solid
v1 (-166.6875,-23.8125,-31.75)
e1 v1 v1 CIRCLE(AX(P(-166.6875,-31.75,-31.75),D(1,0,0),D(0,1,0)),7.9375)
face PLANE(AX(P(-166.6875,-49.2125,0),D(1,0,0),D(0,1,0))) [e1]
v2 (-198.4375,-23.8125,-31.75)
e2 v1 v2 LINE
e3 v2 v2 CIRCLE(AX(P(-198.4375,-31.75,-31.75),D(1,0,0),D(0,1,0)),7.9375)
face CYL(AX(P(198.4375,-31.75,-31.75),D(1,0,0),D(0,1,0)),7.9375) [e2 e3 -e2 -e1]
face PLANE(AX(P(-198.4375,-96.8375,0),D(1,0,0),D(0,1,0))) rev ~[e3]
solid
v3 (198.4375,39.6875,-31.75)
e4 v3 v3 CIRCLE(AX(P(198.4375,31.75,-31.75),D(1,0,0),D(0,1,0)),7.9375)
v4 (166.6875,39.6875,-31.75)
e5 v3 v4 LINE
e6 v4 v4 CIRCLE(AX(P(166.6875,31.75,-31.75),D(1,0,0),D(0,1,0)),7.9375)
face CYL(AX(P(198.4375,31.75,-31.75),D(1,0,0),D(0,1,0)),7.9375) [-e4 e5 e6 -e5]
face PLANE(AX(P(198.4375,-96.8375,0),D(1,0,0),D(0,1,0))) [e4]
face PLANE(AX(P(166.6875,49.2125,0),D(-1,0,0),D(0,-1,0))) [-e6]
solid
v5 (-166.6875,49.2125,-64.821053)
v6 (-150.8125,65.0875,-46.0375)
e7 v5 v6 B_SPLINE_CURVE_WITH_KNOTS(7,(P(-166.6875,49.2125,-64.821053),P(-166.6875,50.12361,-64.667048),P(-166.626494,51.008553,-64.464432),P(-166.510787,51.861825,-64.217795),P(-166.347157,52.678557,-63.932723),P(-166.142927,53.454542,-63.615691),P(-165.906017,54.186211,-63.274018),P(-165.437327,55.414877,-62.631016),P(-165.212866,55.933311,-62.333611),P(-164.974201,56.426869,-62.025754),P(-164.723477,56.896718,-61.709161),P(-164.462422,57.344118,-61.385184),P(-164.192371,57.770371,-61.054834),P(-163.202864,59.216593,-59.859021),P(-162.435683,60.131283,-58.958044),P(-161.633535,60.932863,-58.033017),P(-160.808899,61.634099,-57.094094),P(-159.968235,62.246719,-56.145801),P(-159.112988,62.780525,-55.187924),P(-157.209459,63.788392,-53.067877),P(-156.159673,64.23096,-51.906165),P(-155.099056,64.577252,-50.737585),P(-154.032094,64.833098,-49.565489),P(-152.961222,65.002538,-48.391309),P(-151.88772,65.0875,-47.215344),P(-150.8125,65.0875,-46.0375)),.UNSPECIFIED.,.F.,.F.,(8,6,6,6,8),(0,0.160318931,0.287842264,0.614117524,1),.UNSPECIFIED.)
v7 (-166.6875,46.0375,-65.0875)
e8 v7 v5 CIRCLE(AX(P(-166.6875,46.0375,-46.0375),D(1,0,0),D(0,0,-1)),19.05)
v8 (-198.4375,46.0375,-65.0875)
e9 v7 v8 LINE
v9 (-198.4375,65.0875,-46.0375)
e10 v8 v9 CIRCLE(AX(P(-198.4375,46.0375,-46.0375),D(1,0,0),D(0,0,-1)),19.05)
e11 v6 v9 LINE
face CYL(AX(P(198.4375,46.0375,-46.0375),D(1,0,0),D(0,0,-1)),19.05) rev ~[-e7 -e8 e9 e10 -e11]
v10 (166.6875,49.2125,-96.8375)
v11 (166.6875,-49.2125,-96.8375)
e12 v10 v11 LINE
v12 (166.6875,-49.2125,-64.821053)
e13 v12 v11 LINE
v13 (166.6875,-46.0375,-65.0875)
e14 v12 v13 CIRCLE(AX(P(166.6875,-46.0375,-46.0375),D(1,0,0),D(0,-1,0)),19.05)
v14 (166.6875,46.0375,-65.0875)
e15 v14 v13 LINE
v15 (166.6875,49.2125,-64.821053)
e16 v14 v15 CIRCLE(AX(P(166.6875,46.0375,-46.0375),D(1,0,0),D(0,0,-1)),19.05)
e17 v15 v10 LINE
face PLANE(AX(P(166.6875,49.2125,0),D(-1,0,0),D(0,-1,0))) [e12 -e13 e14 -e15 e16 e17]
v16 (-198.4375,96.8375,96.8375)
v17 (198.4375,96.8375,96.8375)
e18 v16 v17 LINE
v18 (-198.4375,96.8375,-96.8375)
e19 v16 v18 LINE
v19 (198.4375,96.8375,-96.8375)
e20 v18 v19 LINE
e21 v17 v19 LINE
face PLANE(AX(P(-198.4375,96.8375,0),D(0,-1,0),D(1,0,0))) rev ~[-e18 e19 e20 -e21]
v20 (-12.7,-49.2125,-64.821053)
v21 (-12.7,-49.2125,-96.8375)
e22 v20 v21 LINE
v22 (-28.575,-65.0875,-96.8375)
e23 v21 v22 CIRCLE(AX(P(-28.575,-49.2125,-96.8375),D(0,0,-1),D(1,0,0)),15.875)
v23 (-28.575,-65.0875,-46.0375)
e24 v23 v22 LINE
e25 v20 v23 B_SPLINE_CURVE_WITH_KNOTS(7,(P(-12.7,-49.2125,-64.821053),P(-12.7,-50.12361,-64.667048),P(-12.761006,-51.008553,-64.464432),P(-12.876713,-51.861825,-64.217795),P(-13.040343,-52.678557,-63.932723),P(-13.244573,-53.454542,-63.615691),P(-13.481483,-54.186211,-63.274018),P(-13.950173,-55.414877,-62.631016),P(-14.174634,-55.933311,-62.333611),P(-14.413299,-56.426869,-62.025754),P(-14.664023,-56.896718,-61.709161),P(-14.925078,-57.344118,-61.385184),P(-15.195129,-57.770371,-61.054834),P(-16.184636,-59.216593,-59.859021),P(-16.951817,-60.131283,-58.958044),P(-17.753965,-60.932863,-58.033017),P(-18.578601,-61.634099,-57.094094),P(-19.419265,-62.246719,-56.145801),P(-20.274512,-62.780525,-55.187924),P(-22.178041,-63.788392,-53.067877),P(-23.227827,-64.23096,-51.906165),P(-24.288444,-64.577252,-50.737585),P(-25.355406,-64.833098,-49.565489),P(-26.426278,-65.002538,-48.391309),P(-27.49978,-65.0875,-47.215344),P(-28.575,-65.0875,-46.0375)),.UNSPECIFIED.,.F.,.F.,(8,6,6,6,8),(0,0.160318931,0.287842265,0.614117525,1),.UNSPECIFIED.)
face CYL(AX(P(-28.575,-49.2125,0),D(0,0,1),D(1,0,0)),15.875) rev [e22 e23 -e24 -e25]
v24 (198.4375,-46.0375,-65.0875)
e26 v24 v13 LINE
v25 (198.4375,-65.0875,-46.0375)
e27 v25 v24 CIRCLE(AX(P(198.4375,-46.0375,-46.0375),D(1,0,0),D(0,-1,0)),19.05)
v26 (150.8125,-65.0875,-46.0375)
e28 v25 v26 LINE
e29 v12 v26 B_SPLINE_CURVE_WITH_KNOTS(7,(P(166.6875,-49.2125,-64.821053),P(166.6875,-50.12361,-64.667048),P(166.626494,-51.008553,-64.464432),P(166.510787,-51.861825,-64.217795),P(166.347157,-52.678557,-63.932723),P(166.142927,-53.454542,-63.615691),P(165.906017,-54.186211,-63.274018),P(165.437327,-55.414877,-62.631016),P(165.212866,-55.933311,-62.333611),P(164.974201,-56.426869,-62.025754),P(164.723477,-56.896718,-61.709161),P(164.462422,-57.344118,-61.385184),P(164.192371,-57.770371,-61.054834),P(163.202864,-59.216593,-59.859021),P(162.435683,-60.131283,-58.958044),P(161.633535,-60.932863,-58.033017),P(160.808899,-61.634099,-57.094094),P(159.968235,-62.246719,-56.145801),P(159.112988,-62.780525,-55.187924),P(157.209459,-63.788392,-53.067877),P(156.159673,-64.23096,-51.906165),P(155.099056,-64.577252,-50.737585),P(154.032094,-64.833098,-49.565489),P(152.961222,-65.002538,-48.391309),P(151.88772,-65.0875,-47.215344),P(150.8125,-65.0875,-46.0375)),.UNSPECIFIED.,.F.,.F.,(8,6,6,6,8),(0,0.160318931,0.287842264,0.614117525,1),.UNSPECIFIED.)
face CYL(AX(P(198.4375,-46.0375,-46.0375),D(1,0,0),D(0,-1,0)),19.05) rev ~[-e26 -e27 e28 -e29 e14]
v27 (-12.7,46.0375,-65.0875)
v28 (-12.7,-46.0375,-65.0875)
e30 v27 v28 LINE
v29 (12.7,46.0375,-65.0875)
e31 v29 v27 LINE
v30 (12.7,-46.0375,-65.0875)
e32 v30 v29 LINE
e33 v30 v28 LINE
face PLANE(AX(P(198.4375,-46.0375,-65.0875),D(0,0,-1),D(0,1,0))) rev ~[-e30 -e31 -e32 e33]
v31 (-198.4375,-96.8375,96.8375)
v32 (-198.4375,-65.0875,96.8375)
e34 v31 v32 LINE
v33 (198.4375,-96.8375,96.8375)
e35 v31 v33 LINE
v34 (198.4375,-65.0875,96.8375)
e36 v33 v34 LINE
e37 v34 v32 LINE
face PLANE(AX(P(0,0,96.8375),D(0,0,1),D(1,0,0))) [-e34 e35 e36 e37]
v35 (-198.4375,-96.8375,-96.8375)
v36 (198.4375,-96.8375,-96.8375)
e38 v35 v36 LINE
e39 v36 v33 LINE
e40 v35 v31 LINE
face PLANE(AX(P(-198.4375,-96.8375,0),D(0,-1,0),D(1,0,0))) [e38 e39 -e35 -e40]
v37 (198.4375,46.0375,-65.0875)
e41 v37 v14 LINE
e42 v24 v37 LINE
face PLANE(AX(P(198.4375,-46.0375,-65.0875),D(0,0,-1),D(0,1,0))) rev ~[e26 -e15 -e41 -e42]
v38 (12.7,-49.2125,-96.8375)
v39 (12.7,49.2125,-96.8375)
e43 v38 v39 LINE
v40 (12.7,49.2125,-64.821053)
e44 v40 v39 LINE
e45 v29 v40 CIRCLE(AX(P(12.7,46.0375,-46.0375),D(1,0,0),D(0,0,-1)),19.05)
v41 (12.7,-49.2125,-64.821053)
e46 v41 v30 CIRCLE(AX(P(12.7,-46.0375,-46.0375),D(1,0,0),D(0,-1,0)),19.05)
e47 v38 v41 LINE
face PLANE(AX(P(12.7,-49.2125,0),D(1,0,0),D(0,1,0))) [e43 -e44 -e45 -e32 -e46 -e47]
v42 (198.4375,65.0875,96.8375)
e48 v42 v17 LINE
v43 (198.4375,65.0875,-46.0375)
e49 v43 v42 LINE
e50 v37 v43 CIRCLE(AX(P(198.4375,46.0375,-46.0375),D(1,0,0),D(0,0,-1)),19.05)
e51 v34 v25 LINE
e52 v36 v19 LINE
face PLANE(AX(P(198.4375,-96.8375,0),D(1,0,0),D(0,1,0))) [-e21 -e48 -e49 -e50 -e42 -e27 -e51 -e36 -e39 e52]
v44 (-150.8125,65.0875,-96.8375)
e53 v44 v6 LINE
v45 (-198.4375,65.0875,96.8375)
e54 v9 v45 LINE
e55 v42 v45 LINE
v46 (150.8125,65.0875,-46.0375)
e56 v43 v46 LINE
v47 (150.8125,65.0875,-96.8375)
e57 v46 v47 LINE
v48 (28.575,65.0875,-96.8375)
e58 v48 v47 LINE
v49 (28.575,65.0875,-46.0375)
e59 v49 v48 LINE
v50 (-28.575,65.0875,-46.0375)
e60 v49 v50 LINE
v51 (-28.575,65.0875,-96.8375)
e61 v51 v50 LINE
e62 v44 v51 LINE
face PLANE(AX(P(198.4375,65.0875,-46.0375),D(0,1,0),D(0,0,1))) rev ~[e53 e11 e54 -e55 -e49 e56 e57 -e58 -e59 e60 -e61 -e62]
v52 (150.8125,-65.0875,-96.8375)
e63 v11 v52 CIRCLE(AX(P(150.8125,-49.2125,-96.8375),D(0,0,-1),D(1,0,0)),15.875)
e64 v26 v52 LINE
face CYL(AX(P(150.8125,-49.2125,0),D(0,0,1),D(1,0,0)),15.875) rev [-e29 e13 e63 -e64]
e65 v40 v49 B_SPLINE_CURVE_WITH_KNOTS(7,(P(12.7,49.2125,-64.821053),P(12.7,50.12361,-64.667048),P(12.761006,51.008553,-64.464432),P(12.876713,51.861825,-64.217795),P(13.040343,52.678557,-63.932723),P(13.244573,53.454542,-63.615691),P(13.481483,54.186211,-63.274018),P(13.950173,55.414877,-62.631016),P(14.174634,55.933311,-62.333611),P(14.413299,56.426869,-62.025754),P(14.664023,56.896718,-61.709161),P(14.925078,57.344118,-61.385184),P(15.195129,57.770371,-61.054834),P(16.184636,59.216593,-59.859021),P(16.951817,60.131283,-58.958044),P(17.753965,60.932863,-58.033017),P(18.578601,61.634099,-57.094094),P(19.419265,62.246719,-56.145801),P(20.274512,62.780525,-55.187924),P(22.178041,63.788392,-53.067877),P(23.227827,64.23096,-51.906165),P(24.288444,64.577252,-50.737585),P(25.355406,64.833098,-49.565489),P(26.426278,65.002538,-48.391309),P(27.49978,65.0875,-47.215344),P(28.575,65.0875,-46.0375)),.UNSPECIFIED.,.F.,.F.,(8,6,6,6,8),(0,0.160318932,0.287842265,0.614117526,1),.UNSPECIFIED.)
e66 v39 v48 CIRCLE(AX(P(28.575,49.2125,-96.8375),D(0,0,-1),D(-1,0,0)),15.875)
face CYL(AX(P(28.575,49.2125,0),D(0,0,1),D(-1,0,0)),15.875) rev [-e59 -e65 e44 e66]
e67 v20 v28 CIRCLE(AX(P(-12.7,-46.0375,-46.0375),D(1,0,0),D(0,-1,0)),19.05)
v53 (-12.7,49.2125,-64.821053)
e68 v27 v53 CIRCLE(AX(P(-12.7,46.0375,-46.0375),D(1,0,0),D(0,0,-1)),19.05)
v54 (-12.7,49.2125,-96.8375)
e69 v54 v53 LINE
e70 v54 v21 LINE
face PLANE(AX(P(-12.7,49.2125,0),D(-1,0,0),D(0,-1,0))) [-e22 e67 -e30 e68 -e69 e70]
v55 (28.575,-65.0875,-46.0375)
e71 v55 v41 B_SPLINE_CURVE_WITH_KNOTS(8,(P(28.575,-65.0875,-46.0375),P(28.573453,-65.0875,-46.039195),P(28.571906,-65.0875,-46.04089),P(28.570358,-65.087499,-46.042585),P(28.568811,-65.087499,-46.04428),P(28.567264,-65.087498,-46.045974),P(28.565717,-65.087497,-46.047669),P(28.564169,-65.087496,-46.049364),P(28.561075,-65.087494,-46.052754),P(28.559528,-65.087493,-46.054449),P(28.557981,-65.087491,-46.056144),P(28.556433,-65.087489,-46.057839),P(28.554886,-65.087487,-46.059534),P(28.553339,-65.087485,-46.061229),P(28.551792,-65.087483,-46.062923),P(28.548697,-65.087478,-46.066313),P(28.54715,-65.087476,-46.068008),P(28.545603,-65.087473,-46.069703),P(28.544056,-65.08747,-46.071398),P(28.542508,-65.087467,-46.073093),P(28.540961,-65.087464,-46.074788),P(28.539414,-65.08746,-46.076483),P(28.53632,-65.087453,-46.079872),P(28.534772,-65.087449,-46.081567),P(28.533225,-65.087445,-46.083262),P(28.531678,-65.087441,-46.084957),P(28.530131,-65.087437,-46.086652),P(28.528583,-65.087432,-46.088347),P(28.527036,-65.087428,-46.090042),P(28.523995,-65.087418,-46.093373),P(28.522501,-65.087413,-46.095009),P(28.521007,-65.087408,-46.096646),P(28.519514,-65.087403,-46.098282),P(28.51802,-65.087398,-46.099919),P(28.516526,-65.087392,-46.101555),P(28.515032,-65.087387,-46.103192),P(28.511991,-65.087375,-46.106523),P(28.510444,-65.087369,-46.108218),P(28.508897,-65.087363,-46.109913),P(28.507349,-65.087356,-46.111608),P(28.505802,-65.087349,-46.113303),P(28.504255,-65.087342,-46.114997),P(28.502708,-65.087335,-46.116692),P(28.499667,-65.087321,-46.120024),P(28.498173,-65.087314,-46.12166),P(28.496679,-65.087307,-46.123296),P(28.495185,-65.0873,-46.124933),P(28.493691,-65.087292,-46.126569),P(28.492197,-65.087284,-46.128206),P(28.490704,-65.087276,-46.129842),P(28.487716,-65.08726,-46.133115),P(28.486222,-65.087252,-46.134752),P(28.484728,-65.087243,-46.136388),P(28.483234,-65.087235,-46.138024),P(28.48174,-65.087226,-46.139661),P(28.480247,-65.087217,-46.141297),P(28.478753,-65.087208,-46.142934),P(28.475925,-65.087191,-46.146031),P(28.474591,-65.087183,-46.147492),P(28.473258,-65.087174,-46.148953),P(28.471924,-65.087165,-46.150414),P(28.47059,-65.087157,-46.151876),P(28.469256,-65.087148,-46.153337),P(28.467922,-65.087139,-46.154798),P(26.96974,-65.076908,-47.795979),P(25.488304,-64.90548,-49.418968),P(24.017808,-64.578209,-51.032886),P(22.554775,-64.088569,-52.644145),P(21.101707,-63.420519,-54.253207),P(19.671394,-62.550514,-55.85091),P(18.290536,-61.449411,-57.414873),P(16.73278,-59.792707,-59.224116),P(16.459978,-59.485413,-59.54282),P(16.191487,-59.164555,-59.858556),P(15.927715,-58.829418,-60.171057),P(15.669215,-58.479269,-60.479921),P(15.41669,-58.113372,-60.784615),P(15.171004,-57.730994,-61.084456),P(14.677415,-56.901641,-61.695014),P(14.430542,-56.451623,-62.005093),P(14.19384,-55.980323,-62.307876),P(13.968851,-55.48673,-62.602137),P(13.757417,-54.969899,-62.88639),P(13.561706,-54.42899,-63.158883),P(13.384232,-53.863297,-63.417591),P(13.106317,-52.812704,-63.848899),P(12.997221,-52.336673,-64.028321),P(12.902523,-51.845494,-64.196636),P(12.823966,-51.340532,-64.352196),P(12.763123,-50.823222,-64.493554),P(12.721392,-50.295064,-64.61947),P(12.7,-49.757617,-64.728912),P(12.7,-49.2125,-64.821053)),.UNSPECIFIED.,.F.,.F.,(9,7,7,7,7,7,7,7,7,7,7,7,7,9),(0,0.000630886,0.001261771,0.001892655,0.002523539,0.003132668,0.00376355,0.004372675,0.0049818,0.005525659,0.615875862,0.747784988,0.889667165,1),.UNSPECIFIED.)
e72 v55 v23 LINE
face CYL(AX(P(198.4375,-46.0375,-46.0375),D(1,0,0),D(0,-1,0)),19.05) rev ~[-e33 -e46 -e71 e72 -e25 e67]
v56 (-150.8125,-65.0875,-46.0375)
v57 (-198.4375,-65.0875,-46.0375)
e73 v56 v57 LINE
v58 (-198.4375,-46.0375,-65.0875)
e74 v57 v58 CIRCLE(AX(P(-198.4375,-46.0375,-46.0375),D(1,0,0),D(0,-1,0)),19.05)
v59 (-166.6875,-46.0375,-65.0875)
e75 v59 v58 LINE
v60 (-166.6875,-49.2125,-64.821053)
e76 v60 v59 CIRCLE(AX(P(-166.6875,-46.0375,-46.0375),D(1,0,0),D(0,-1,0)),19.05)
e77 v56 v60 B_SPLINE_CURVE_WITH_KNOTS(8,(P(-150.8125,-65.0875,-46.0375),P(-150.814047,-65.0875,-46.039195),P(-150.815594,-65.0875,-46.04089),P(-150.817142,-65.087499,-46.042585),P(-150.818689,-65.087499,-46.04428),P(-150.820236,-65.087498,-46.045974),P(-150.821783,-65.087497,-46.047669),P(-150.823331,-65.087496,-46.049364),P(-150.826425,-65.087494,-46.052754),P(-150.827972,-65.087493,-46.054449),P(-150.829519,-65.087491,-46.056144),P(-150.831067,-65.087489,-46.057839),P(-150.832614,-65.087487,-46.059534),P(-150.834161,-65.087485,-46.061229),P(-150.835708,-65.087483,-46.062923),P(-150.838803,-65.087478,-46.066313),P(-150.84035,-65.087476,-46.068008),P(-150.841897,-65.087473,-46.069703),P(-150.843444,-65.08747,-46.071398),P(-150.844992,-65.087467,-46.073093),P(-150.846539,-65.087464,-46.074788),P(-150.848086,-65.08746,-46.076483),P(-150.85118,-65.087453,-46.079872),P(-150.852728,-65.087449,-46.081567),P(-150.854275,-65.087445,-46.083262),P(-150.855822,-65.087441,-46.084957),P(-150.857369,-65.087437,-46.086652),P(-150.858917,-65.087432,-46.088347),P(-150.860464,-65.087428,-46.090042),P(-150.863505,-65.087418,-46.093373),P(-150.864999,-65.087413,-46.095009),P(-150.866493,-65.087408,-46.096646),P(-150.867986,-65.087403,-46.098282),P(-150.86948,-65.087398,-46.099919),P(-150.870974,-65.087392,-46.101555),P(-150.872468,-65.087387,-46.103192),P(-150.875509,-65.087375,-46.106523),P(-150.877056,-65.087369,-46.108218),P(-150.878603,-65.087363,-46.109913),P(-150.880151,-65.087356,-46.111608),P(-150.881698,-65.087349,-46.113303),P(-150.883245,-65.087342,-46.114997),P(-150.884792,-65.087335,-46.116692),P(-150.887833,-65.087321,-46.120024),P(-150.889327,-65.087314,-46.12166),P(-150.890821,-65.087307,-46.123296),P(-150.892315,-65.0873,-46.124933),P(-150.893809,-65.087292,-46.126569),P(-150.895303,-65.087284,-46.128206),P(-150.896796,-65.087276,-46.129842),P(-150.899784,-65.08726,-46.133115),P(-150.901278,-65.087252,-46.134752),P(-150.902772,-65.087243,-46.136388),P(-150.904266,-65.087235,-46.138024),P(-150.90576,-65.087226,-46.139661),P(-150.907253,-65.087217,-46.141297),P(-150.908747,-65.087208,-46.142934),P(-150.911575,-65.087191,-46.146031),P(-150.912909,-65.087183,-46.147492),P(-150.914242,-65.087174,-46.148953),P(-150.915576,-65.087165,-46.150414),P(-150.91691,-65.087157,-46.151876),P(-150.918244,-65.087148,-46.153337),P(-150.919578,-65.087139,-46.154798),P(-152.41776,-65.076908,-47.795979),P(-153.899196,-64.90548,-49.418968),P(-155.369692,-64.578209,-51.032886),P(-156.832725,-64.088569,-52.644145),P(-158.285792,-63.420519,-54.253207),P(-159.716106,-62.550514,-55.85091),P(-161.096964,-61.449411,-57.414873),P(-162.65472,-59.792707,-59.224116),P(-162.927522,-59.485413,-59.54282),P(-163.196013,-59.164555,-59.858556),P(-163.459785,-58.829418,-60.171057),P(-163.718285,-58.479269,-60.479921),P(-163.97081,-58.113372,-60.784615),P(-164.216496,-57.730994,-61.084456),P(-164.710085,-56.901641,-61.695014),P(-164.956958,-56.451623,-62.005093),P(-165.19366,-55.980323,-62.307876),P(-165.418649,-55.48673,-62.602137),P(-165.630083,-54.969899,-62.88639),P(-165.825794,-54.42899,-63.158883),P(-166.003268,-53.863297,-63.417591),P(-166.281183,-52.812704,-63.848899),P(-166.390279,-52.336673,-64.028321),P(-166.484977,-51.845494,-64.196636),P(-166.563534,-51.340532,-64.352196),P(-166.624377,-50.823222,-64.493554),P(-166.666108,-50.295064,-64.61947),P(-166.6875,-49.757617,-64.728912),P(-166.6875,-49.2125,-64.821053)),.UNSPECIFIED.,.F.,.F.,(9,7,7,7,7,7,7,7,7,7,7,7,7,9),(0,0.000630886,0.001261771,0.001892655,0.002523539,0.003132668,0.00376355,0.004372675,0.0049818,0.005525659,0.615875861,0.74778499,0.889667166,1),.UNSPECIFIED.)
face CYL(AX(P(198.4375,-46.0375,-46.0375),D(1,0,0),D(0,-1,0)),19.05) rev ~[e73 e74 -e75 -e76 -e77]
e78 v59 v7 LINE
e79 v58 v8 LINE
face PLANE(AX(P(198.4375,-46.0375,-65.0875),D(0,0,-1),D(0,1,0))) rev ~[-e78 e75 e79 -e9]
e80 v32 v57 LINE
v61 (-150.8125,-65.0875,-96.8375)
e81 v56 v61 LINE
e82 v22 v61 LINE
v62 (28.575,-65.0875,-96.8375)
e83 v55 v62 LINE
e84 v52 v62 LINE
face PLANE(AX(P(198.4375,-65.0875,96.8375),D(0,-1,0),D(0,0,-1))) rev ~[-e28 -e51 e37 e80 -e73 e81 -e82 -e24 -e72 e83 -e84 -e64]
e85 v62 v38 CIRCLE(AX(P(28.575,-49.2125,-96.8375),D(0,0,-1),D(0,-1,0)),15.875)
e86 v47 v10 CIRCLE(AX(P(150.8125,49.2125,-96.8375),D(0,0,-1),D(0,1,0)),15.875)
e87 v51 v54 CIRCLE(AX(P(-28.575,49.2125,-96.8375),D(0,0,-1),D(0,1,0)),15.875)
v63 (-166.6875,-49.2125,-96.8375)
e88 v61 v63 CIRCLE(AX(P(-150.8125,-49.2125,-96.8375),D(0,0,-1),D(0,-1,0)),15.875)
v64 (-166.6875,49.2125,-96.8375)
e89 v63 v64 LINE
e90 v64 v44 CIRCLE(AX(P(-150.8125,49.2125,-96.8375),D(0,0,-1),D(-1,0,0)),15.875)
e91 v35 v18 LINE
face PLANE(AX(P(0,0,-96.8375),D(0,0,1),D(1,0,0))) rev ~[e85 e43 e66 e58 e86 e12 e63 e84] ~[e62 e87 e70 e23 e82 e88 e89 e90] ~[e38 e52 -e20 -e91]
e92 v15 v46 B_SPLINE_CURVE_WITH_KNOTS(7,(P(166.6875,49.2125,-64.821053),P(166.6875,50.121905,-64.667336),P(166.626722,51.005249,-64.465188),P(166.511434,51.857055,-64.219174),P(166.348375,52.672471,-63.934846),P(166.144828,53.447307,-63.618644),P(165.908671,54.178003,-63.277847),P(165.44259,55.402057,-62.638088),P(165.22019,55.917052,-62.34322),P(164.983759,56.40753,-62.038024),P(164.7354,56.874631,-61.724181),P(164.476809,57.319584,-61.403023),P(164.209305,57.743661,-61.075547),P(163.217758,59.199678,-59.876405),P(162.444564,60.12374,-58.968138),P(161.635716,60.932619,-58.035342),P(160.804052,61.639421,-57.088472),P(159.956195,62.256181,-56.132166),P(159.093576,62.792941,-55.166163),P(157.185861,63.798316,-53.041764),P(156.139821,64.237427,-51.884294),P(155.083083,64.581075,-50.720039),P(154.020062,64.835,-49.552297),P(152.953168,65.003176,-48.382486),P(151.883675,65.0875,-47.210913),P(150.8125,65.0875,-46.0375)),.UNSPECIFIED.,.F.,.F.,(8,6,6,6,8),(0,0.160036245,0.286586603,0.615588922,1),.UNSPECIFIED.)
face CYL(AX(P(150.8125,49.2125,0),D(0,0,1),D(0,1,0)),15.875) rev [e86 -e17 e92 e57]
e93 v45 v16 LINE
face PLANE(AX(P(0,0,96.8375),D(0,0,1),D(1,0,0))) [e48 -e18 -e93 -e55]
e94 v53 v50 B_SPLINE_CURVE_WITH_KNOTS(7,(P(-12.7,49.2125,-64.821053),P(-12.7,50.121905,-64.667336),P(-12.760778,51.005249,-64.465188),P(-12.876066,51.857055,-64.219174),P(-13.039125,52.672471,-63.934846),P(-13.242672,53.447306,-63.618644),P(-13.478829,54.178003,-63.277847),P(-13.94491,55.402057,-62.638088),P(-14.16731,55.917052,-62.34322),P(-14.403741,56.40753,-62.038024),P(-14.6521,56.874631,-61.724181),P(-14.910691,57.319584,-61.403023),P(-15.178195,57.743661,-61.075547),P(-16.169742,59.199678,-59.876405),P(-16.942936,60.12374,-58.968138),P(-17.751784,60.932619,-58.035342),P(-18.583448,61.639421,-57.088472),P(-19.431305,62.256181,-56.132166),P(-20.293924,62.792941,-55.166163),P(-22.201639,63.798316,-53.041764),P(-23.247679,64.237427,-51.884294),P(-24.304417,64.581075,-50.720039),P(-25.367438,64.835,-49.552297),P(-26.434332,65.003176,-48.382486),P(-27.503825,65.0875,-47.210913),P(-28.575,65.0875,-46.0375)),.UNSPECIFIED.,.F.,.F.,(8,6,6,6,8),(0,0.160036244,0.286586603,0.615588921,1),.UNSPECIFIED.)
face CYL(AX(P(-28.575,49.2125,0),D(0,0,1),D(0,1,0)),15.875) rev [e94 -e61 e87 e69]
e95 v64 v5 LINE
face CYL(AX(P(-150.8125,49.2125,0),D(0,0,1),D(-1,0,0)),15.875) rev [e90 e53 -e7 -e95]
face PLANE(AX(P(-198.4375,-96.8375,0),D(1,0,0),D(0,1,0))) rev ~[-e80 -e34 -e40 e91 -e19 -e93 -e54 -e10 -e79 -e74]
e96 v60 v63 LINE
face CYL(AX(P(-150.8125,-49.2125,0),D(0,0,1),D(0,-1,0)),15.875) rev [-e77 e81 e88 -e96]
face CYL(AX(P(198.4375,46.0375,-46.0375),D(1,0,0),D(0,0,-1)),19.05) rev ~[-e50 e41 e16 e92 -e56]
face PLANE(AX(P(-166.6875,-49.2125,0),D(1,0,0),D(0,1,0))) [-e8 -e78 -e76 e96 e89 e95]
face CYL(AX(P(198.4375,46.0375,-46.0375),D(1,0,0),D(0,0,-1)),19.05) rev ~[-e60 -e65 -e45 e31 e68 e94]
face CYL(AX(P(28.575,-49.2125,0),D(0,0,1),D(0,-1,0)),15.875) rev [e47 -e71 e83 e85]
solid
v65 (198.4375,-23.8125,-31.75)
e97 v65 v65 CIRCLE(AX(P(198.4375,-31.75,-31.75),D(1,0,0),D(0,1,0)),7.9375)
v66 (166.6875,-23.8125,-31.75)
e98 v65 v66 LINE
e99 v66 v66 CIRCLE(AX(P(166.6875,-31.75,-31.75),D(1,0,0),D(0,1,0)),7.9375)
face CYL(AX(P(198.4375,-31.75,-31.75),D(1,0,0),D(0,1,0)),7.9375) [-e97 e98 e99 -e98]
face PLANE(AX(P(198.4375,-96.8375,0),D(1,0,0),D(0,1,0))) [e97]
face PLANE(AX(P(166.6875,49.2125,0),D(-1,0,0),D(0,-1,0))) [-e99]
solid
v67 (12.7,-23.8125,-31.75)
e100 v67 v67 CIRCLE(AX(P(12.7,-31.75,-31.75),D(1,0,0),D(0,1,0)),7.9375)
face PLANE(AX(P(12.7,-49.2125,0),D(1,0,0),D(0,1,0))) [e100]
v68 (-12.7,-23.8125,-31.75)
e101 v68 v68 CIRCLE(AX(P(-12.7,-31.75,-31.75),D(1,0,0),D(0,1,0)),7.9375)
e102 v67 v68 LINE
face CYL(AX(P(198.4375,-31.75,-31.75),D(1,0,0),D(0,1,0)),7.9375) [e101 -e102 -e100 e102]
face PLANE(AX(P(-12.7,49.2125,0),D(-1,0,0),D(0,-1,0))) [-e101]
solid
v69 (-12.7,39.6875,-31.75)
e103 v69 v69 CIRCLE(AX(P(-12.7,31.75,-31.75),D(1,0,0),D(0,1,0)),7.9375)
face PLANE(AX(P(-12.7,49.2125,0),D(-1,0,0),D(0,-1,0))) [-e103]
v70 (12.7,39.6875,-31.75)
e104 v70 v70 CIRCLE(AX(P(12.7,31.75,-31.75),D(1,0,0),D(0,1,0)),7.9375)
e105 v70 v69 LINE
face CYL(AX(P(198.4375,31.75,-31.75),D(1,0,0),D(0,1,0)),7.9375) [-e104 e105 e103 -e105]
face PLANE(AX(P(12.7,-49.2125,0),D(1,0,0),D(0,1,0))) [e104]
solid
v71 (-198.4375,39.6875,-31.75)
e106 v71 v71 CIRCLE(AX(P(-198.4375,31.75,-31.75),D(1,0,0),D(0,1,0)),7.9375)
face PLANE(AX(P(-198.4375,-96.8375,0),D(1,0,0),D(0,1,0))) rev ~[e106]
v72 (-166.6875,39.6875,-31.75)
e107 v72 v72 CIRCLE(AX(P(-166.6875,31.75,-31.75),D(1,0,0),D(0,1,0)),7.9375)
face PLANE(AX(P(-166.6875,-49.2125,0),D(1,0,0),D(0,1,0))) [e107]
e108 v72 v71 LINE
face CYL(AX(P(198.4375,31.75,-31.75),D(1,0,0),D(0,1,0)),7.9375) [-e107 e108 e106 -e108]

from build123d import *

# Parameters (mm, degrees)
F0_W     = 396.875
F0_H     = 193.675
F1_DEPTH = 96.8375
F2_R     = 7.9375
F3_DEPTH = 396.876


with BuildPart() as f1:
    # F0 (on Top) → F1 (new body, symmetric)
    with BuildSketch(Plane.XY):
        Rectangle(F0_W, F0_H)
        with BuildLine():
            ThreePointArc((-166.6875, 49.2125), (-162.0378201513, 60.4378201513), (-150.8125, 65.0875))
            Line((-150.8125, 65.0875), (-28.575, 65.0875))
            ThreePointArc((-28.575, 65.0875), (-17.3496798487, 60.4378201513), (-12.7, 49.2125))
            Line((-12.7, 49.2125), (-12.7, 0))
            Line((-12.7, 0), (-12.7, -49.2125))
            ThreePointArc((-12.7, -49.2125), (-17.3496798487, -60.4378201513), (-28.575, -65.0875))
            Line((-28.575, -65.0875), (-150.8125, -65.0875))
            ThreePointArc((-150.8125, -65.0875), (-162.0378201513, -60.4378201513), (-166.6875, -49.2125))
            Line((-166.6875, -49.2125), (-166.6875, 49.2125))
        make_face(mode=Mode.SUBTRACT)
        with BuildLine():
            Line((12.7, -49.2125), (12.7, 0))
            Line((12.7, 0), (12.7, 49.2125))
            ThreePointArc((12.7, 49.2125), (17.3496798487, 60.4378201513), (28.575, 65.0875))
            Line((28.575, 65.0875), (150.8125, 65.0875))
            ThreePointArc((150.8125, 65.0875), (162.0378201513, 60.4378201513), (166.6875, 49.2125))
            Line((166.6875, 49.2125), (166.6875, -49.2125))
            ThreePointArc((166.6875, -49.2125), (162.0378201513, -60.4378201513), (150.8125, -65.0875))
            Line((150.8125, -65.0875), (28.575, -65.0875))
            ThreePointArc((28.575, -65.0875), (17.3496798487, -60.4378201513), (12.7, -49.2125))
        make_face(mode=Mode.SUBTRACT)
    extrude(amount=F1_DEPTH, both=True)

    # F2 (on face) → F3 (cut, through all)
    with BuildSketch(Plane.YZ.offset(198.4375)):
        with BuildLine():
            Line((65.0875, 96.8375), (-65.0875, 96.8375))
            Line((-65.0875, 96.8375), (-65.0875, -46.0375))
            ThreePointArc((-65.0875, -46.0375), (-59.5078841816, -59.5078841816), (-46.0375, -65.0875))
            Line((-46.0375, -65.0875), (46.0375, -65.0875))
            ThreePointArc((46.0375, -65.0875), (59.5078841816, -59.5078841816), (65.0875, -46.0375))
            Line((65.0875, -46.0375), (65.0875, 96.8375))
        make_face()
        with Locations((-31.75, -31.75)):
            Circle(F2_R, mode=Mode.SUBTRACT)
        with Locations((31.75, -31.75)):
            Circle(F2_R, mode=Mode.SUBTRACT)
    extrude(amount=-F3_DEPTH, mode=Mode.SUBTRACT)


solid = f1.part
